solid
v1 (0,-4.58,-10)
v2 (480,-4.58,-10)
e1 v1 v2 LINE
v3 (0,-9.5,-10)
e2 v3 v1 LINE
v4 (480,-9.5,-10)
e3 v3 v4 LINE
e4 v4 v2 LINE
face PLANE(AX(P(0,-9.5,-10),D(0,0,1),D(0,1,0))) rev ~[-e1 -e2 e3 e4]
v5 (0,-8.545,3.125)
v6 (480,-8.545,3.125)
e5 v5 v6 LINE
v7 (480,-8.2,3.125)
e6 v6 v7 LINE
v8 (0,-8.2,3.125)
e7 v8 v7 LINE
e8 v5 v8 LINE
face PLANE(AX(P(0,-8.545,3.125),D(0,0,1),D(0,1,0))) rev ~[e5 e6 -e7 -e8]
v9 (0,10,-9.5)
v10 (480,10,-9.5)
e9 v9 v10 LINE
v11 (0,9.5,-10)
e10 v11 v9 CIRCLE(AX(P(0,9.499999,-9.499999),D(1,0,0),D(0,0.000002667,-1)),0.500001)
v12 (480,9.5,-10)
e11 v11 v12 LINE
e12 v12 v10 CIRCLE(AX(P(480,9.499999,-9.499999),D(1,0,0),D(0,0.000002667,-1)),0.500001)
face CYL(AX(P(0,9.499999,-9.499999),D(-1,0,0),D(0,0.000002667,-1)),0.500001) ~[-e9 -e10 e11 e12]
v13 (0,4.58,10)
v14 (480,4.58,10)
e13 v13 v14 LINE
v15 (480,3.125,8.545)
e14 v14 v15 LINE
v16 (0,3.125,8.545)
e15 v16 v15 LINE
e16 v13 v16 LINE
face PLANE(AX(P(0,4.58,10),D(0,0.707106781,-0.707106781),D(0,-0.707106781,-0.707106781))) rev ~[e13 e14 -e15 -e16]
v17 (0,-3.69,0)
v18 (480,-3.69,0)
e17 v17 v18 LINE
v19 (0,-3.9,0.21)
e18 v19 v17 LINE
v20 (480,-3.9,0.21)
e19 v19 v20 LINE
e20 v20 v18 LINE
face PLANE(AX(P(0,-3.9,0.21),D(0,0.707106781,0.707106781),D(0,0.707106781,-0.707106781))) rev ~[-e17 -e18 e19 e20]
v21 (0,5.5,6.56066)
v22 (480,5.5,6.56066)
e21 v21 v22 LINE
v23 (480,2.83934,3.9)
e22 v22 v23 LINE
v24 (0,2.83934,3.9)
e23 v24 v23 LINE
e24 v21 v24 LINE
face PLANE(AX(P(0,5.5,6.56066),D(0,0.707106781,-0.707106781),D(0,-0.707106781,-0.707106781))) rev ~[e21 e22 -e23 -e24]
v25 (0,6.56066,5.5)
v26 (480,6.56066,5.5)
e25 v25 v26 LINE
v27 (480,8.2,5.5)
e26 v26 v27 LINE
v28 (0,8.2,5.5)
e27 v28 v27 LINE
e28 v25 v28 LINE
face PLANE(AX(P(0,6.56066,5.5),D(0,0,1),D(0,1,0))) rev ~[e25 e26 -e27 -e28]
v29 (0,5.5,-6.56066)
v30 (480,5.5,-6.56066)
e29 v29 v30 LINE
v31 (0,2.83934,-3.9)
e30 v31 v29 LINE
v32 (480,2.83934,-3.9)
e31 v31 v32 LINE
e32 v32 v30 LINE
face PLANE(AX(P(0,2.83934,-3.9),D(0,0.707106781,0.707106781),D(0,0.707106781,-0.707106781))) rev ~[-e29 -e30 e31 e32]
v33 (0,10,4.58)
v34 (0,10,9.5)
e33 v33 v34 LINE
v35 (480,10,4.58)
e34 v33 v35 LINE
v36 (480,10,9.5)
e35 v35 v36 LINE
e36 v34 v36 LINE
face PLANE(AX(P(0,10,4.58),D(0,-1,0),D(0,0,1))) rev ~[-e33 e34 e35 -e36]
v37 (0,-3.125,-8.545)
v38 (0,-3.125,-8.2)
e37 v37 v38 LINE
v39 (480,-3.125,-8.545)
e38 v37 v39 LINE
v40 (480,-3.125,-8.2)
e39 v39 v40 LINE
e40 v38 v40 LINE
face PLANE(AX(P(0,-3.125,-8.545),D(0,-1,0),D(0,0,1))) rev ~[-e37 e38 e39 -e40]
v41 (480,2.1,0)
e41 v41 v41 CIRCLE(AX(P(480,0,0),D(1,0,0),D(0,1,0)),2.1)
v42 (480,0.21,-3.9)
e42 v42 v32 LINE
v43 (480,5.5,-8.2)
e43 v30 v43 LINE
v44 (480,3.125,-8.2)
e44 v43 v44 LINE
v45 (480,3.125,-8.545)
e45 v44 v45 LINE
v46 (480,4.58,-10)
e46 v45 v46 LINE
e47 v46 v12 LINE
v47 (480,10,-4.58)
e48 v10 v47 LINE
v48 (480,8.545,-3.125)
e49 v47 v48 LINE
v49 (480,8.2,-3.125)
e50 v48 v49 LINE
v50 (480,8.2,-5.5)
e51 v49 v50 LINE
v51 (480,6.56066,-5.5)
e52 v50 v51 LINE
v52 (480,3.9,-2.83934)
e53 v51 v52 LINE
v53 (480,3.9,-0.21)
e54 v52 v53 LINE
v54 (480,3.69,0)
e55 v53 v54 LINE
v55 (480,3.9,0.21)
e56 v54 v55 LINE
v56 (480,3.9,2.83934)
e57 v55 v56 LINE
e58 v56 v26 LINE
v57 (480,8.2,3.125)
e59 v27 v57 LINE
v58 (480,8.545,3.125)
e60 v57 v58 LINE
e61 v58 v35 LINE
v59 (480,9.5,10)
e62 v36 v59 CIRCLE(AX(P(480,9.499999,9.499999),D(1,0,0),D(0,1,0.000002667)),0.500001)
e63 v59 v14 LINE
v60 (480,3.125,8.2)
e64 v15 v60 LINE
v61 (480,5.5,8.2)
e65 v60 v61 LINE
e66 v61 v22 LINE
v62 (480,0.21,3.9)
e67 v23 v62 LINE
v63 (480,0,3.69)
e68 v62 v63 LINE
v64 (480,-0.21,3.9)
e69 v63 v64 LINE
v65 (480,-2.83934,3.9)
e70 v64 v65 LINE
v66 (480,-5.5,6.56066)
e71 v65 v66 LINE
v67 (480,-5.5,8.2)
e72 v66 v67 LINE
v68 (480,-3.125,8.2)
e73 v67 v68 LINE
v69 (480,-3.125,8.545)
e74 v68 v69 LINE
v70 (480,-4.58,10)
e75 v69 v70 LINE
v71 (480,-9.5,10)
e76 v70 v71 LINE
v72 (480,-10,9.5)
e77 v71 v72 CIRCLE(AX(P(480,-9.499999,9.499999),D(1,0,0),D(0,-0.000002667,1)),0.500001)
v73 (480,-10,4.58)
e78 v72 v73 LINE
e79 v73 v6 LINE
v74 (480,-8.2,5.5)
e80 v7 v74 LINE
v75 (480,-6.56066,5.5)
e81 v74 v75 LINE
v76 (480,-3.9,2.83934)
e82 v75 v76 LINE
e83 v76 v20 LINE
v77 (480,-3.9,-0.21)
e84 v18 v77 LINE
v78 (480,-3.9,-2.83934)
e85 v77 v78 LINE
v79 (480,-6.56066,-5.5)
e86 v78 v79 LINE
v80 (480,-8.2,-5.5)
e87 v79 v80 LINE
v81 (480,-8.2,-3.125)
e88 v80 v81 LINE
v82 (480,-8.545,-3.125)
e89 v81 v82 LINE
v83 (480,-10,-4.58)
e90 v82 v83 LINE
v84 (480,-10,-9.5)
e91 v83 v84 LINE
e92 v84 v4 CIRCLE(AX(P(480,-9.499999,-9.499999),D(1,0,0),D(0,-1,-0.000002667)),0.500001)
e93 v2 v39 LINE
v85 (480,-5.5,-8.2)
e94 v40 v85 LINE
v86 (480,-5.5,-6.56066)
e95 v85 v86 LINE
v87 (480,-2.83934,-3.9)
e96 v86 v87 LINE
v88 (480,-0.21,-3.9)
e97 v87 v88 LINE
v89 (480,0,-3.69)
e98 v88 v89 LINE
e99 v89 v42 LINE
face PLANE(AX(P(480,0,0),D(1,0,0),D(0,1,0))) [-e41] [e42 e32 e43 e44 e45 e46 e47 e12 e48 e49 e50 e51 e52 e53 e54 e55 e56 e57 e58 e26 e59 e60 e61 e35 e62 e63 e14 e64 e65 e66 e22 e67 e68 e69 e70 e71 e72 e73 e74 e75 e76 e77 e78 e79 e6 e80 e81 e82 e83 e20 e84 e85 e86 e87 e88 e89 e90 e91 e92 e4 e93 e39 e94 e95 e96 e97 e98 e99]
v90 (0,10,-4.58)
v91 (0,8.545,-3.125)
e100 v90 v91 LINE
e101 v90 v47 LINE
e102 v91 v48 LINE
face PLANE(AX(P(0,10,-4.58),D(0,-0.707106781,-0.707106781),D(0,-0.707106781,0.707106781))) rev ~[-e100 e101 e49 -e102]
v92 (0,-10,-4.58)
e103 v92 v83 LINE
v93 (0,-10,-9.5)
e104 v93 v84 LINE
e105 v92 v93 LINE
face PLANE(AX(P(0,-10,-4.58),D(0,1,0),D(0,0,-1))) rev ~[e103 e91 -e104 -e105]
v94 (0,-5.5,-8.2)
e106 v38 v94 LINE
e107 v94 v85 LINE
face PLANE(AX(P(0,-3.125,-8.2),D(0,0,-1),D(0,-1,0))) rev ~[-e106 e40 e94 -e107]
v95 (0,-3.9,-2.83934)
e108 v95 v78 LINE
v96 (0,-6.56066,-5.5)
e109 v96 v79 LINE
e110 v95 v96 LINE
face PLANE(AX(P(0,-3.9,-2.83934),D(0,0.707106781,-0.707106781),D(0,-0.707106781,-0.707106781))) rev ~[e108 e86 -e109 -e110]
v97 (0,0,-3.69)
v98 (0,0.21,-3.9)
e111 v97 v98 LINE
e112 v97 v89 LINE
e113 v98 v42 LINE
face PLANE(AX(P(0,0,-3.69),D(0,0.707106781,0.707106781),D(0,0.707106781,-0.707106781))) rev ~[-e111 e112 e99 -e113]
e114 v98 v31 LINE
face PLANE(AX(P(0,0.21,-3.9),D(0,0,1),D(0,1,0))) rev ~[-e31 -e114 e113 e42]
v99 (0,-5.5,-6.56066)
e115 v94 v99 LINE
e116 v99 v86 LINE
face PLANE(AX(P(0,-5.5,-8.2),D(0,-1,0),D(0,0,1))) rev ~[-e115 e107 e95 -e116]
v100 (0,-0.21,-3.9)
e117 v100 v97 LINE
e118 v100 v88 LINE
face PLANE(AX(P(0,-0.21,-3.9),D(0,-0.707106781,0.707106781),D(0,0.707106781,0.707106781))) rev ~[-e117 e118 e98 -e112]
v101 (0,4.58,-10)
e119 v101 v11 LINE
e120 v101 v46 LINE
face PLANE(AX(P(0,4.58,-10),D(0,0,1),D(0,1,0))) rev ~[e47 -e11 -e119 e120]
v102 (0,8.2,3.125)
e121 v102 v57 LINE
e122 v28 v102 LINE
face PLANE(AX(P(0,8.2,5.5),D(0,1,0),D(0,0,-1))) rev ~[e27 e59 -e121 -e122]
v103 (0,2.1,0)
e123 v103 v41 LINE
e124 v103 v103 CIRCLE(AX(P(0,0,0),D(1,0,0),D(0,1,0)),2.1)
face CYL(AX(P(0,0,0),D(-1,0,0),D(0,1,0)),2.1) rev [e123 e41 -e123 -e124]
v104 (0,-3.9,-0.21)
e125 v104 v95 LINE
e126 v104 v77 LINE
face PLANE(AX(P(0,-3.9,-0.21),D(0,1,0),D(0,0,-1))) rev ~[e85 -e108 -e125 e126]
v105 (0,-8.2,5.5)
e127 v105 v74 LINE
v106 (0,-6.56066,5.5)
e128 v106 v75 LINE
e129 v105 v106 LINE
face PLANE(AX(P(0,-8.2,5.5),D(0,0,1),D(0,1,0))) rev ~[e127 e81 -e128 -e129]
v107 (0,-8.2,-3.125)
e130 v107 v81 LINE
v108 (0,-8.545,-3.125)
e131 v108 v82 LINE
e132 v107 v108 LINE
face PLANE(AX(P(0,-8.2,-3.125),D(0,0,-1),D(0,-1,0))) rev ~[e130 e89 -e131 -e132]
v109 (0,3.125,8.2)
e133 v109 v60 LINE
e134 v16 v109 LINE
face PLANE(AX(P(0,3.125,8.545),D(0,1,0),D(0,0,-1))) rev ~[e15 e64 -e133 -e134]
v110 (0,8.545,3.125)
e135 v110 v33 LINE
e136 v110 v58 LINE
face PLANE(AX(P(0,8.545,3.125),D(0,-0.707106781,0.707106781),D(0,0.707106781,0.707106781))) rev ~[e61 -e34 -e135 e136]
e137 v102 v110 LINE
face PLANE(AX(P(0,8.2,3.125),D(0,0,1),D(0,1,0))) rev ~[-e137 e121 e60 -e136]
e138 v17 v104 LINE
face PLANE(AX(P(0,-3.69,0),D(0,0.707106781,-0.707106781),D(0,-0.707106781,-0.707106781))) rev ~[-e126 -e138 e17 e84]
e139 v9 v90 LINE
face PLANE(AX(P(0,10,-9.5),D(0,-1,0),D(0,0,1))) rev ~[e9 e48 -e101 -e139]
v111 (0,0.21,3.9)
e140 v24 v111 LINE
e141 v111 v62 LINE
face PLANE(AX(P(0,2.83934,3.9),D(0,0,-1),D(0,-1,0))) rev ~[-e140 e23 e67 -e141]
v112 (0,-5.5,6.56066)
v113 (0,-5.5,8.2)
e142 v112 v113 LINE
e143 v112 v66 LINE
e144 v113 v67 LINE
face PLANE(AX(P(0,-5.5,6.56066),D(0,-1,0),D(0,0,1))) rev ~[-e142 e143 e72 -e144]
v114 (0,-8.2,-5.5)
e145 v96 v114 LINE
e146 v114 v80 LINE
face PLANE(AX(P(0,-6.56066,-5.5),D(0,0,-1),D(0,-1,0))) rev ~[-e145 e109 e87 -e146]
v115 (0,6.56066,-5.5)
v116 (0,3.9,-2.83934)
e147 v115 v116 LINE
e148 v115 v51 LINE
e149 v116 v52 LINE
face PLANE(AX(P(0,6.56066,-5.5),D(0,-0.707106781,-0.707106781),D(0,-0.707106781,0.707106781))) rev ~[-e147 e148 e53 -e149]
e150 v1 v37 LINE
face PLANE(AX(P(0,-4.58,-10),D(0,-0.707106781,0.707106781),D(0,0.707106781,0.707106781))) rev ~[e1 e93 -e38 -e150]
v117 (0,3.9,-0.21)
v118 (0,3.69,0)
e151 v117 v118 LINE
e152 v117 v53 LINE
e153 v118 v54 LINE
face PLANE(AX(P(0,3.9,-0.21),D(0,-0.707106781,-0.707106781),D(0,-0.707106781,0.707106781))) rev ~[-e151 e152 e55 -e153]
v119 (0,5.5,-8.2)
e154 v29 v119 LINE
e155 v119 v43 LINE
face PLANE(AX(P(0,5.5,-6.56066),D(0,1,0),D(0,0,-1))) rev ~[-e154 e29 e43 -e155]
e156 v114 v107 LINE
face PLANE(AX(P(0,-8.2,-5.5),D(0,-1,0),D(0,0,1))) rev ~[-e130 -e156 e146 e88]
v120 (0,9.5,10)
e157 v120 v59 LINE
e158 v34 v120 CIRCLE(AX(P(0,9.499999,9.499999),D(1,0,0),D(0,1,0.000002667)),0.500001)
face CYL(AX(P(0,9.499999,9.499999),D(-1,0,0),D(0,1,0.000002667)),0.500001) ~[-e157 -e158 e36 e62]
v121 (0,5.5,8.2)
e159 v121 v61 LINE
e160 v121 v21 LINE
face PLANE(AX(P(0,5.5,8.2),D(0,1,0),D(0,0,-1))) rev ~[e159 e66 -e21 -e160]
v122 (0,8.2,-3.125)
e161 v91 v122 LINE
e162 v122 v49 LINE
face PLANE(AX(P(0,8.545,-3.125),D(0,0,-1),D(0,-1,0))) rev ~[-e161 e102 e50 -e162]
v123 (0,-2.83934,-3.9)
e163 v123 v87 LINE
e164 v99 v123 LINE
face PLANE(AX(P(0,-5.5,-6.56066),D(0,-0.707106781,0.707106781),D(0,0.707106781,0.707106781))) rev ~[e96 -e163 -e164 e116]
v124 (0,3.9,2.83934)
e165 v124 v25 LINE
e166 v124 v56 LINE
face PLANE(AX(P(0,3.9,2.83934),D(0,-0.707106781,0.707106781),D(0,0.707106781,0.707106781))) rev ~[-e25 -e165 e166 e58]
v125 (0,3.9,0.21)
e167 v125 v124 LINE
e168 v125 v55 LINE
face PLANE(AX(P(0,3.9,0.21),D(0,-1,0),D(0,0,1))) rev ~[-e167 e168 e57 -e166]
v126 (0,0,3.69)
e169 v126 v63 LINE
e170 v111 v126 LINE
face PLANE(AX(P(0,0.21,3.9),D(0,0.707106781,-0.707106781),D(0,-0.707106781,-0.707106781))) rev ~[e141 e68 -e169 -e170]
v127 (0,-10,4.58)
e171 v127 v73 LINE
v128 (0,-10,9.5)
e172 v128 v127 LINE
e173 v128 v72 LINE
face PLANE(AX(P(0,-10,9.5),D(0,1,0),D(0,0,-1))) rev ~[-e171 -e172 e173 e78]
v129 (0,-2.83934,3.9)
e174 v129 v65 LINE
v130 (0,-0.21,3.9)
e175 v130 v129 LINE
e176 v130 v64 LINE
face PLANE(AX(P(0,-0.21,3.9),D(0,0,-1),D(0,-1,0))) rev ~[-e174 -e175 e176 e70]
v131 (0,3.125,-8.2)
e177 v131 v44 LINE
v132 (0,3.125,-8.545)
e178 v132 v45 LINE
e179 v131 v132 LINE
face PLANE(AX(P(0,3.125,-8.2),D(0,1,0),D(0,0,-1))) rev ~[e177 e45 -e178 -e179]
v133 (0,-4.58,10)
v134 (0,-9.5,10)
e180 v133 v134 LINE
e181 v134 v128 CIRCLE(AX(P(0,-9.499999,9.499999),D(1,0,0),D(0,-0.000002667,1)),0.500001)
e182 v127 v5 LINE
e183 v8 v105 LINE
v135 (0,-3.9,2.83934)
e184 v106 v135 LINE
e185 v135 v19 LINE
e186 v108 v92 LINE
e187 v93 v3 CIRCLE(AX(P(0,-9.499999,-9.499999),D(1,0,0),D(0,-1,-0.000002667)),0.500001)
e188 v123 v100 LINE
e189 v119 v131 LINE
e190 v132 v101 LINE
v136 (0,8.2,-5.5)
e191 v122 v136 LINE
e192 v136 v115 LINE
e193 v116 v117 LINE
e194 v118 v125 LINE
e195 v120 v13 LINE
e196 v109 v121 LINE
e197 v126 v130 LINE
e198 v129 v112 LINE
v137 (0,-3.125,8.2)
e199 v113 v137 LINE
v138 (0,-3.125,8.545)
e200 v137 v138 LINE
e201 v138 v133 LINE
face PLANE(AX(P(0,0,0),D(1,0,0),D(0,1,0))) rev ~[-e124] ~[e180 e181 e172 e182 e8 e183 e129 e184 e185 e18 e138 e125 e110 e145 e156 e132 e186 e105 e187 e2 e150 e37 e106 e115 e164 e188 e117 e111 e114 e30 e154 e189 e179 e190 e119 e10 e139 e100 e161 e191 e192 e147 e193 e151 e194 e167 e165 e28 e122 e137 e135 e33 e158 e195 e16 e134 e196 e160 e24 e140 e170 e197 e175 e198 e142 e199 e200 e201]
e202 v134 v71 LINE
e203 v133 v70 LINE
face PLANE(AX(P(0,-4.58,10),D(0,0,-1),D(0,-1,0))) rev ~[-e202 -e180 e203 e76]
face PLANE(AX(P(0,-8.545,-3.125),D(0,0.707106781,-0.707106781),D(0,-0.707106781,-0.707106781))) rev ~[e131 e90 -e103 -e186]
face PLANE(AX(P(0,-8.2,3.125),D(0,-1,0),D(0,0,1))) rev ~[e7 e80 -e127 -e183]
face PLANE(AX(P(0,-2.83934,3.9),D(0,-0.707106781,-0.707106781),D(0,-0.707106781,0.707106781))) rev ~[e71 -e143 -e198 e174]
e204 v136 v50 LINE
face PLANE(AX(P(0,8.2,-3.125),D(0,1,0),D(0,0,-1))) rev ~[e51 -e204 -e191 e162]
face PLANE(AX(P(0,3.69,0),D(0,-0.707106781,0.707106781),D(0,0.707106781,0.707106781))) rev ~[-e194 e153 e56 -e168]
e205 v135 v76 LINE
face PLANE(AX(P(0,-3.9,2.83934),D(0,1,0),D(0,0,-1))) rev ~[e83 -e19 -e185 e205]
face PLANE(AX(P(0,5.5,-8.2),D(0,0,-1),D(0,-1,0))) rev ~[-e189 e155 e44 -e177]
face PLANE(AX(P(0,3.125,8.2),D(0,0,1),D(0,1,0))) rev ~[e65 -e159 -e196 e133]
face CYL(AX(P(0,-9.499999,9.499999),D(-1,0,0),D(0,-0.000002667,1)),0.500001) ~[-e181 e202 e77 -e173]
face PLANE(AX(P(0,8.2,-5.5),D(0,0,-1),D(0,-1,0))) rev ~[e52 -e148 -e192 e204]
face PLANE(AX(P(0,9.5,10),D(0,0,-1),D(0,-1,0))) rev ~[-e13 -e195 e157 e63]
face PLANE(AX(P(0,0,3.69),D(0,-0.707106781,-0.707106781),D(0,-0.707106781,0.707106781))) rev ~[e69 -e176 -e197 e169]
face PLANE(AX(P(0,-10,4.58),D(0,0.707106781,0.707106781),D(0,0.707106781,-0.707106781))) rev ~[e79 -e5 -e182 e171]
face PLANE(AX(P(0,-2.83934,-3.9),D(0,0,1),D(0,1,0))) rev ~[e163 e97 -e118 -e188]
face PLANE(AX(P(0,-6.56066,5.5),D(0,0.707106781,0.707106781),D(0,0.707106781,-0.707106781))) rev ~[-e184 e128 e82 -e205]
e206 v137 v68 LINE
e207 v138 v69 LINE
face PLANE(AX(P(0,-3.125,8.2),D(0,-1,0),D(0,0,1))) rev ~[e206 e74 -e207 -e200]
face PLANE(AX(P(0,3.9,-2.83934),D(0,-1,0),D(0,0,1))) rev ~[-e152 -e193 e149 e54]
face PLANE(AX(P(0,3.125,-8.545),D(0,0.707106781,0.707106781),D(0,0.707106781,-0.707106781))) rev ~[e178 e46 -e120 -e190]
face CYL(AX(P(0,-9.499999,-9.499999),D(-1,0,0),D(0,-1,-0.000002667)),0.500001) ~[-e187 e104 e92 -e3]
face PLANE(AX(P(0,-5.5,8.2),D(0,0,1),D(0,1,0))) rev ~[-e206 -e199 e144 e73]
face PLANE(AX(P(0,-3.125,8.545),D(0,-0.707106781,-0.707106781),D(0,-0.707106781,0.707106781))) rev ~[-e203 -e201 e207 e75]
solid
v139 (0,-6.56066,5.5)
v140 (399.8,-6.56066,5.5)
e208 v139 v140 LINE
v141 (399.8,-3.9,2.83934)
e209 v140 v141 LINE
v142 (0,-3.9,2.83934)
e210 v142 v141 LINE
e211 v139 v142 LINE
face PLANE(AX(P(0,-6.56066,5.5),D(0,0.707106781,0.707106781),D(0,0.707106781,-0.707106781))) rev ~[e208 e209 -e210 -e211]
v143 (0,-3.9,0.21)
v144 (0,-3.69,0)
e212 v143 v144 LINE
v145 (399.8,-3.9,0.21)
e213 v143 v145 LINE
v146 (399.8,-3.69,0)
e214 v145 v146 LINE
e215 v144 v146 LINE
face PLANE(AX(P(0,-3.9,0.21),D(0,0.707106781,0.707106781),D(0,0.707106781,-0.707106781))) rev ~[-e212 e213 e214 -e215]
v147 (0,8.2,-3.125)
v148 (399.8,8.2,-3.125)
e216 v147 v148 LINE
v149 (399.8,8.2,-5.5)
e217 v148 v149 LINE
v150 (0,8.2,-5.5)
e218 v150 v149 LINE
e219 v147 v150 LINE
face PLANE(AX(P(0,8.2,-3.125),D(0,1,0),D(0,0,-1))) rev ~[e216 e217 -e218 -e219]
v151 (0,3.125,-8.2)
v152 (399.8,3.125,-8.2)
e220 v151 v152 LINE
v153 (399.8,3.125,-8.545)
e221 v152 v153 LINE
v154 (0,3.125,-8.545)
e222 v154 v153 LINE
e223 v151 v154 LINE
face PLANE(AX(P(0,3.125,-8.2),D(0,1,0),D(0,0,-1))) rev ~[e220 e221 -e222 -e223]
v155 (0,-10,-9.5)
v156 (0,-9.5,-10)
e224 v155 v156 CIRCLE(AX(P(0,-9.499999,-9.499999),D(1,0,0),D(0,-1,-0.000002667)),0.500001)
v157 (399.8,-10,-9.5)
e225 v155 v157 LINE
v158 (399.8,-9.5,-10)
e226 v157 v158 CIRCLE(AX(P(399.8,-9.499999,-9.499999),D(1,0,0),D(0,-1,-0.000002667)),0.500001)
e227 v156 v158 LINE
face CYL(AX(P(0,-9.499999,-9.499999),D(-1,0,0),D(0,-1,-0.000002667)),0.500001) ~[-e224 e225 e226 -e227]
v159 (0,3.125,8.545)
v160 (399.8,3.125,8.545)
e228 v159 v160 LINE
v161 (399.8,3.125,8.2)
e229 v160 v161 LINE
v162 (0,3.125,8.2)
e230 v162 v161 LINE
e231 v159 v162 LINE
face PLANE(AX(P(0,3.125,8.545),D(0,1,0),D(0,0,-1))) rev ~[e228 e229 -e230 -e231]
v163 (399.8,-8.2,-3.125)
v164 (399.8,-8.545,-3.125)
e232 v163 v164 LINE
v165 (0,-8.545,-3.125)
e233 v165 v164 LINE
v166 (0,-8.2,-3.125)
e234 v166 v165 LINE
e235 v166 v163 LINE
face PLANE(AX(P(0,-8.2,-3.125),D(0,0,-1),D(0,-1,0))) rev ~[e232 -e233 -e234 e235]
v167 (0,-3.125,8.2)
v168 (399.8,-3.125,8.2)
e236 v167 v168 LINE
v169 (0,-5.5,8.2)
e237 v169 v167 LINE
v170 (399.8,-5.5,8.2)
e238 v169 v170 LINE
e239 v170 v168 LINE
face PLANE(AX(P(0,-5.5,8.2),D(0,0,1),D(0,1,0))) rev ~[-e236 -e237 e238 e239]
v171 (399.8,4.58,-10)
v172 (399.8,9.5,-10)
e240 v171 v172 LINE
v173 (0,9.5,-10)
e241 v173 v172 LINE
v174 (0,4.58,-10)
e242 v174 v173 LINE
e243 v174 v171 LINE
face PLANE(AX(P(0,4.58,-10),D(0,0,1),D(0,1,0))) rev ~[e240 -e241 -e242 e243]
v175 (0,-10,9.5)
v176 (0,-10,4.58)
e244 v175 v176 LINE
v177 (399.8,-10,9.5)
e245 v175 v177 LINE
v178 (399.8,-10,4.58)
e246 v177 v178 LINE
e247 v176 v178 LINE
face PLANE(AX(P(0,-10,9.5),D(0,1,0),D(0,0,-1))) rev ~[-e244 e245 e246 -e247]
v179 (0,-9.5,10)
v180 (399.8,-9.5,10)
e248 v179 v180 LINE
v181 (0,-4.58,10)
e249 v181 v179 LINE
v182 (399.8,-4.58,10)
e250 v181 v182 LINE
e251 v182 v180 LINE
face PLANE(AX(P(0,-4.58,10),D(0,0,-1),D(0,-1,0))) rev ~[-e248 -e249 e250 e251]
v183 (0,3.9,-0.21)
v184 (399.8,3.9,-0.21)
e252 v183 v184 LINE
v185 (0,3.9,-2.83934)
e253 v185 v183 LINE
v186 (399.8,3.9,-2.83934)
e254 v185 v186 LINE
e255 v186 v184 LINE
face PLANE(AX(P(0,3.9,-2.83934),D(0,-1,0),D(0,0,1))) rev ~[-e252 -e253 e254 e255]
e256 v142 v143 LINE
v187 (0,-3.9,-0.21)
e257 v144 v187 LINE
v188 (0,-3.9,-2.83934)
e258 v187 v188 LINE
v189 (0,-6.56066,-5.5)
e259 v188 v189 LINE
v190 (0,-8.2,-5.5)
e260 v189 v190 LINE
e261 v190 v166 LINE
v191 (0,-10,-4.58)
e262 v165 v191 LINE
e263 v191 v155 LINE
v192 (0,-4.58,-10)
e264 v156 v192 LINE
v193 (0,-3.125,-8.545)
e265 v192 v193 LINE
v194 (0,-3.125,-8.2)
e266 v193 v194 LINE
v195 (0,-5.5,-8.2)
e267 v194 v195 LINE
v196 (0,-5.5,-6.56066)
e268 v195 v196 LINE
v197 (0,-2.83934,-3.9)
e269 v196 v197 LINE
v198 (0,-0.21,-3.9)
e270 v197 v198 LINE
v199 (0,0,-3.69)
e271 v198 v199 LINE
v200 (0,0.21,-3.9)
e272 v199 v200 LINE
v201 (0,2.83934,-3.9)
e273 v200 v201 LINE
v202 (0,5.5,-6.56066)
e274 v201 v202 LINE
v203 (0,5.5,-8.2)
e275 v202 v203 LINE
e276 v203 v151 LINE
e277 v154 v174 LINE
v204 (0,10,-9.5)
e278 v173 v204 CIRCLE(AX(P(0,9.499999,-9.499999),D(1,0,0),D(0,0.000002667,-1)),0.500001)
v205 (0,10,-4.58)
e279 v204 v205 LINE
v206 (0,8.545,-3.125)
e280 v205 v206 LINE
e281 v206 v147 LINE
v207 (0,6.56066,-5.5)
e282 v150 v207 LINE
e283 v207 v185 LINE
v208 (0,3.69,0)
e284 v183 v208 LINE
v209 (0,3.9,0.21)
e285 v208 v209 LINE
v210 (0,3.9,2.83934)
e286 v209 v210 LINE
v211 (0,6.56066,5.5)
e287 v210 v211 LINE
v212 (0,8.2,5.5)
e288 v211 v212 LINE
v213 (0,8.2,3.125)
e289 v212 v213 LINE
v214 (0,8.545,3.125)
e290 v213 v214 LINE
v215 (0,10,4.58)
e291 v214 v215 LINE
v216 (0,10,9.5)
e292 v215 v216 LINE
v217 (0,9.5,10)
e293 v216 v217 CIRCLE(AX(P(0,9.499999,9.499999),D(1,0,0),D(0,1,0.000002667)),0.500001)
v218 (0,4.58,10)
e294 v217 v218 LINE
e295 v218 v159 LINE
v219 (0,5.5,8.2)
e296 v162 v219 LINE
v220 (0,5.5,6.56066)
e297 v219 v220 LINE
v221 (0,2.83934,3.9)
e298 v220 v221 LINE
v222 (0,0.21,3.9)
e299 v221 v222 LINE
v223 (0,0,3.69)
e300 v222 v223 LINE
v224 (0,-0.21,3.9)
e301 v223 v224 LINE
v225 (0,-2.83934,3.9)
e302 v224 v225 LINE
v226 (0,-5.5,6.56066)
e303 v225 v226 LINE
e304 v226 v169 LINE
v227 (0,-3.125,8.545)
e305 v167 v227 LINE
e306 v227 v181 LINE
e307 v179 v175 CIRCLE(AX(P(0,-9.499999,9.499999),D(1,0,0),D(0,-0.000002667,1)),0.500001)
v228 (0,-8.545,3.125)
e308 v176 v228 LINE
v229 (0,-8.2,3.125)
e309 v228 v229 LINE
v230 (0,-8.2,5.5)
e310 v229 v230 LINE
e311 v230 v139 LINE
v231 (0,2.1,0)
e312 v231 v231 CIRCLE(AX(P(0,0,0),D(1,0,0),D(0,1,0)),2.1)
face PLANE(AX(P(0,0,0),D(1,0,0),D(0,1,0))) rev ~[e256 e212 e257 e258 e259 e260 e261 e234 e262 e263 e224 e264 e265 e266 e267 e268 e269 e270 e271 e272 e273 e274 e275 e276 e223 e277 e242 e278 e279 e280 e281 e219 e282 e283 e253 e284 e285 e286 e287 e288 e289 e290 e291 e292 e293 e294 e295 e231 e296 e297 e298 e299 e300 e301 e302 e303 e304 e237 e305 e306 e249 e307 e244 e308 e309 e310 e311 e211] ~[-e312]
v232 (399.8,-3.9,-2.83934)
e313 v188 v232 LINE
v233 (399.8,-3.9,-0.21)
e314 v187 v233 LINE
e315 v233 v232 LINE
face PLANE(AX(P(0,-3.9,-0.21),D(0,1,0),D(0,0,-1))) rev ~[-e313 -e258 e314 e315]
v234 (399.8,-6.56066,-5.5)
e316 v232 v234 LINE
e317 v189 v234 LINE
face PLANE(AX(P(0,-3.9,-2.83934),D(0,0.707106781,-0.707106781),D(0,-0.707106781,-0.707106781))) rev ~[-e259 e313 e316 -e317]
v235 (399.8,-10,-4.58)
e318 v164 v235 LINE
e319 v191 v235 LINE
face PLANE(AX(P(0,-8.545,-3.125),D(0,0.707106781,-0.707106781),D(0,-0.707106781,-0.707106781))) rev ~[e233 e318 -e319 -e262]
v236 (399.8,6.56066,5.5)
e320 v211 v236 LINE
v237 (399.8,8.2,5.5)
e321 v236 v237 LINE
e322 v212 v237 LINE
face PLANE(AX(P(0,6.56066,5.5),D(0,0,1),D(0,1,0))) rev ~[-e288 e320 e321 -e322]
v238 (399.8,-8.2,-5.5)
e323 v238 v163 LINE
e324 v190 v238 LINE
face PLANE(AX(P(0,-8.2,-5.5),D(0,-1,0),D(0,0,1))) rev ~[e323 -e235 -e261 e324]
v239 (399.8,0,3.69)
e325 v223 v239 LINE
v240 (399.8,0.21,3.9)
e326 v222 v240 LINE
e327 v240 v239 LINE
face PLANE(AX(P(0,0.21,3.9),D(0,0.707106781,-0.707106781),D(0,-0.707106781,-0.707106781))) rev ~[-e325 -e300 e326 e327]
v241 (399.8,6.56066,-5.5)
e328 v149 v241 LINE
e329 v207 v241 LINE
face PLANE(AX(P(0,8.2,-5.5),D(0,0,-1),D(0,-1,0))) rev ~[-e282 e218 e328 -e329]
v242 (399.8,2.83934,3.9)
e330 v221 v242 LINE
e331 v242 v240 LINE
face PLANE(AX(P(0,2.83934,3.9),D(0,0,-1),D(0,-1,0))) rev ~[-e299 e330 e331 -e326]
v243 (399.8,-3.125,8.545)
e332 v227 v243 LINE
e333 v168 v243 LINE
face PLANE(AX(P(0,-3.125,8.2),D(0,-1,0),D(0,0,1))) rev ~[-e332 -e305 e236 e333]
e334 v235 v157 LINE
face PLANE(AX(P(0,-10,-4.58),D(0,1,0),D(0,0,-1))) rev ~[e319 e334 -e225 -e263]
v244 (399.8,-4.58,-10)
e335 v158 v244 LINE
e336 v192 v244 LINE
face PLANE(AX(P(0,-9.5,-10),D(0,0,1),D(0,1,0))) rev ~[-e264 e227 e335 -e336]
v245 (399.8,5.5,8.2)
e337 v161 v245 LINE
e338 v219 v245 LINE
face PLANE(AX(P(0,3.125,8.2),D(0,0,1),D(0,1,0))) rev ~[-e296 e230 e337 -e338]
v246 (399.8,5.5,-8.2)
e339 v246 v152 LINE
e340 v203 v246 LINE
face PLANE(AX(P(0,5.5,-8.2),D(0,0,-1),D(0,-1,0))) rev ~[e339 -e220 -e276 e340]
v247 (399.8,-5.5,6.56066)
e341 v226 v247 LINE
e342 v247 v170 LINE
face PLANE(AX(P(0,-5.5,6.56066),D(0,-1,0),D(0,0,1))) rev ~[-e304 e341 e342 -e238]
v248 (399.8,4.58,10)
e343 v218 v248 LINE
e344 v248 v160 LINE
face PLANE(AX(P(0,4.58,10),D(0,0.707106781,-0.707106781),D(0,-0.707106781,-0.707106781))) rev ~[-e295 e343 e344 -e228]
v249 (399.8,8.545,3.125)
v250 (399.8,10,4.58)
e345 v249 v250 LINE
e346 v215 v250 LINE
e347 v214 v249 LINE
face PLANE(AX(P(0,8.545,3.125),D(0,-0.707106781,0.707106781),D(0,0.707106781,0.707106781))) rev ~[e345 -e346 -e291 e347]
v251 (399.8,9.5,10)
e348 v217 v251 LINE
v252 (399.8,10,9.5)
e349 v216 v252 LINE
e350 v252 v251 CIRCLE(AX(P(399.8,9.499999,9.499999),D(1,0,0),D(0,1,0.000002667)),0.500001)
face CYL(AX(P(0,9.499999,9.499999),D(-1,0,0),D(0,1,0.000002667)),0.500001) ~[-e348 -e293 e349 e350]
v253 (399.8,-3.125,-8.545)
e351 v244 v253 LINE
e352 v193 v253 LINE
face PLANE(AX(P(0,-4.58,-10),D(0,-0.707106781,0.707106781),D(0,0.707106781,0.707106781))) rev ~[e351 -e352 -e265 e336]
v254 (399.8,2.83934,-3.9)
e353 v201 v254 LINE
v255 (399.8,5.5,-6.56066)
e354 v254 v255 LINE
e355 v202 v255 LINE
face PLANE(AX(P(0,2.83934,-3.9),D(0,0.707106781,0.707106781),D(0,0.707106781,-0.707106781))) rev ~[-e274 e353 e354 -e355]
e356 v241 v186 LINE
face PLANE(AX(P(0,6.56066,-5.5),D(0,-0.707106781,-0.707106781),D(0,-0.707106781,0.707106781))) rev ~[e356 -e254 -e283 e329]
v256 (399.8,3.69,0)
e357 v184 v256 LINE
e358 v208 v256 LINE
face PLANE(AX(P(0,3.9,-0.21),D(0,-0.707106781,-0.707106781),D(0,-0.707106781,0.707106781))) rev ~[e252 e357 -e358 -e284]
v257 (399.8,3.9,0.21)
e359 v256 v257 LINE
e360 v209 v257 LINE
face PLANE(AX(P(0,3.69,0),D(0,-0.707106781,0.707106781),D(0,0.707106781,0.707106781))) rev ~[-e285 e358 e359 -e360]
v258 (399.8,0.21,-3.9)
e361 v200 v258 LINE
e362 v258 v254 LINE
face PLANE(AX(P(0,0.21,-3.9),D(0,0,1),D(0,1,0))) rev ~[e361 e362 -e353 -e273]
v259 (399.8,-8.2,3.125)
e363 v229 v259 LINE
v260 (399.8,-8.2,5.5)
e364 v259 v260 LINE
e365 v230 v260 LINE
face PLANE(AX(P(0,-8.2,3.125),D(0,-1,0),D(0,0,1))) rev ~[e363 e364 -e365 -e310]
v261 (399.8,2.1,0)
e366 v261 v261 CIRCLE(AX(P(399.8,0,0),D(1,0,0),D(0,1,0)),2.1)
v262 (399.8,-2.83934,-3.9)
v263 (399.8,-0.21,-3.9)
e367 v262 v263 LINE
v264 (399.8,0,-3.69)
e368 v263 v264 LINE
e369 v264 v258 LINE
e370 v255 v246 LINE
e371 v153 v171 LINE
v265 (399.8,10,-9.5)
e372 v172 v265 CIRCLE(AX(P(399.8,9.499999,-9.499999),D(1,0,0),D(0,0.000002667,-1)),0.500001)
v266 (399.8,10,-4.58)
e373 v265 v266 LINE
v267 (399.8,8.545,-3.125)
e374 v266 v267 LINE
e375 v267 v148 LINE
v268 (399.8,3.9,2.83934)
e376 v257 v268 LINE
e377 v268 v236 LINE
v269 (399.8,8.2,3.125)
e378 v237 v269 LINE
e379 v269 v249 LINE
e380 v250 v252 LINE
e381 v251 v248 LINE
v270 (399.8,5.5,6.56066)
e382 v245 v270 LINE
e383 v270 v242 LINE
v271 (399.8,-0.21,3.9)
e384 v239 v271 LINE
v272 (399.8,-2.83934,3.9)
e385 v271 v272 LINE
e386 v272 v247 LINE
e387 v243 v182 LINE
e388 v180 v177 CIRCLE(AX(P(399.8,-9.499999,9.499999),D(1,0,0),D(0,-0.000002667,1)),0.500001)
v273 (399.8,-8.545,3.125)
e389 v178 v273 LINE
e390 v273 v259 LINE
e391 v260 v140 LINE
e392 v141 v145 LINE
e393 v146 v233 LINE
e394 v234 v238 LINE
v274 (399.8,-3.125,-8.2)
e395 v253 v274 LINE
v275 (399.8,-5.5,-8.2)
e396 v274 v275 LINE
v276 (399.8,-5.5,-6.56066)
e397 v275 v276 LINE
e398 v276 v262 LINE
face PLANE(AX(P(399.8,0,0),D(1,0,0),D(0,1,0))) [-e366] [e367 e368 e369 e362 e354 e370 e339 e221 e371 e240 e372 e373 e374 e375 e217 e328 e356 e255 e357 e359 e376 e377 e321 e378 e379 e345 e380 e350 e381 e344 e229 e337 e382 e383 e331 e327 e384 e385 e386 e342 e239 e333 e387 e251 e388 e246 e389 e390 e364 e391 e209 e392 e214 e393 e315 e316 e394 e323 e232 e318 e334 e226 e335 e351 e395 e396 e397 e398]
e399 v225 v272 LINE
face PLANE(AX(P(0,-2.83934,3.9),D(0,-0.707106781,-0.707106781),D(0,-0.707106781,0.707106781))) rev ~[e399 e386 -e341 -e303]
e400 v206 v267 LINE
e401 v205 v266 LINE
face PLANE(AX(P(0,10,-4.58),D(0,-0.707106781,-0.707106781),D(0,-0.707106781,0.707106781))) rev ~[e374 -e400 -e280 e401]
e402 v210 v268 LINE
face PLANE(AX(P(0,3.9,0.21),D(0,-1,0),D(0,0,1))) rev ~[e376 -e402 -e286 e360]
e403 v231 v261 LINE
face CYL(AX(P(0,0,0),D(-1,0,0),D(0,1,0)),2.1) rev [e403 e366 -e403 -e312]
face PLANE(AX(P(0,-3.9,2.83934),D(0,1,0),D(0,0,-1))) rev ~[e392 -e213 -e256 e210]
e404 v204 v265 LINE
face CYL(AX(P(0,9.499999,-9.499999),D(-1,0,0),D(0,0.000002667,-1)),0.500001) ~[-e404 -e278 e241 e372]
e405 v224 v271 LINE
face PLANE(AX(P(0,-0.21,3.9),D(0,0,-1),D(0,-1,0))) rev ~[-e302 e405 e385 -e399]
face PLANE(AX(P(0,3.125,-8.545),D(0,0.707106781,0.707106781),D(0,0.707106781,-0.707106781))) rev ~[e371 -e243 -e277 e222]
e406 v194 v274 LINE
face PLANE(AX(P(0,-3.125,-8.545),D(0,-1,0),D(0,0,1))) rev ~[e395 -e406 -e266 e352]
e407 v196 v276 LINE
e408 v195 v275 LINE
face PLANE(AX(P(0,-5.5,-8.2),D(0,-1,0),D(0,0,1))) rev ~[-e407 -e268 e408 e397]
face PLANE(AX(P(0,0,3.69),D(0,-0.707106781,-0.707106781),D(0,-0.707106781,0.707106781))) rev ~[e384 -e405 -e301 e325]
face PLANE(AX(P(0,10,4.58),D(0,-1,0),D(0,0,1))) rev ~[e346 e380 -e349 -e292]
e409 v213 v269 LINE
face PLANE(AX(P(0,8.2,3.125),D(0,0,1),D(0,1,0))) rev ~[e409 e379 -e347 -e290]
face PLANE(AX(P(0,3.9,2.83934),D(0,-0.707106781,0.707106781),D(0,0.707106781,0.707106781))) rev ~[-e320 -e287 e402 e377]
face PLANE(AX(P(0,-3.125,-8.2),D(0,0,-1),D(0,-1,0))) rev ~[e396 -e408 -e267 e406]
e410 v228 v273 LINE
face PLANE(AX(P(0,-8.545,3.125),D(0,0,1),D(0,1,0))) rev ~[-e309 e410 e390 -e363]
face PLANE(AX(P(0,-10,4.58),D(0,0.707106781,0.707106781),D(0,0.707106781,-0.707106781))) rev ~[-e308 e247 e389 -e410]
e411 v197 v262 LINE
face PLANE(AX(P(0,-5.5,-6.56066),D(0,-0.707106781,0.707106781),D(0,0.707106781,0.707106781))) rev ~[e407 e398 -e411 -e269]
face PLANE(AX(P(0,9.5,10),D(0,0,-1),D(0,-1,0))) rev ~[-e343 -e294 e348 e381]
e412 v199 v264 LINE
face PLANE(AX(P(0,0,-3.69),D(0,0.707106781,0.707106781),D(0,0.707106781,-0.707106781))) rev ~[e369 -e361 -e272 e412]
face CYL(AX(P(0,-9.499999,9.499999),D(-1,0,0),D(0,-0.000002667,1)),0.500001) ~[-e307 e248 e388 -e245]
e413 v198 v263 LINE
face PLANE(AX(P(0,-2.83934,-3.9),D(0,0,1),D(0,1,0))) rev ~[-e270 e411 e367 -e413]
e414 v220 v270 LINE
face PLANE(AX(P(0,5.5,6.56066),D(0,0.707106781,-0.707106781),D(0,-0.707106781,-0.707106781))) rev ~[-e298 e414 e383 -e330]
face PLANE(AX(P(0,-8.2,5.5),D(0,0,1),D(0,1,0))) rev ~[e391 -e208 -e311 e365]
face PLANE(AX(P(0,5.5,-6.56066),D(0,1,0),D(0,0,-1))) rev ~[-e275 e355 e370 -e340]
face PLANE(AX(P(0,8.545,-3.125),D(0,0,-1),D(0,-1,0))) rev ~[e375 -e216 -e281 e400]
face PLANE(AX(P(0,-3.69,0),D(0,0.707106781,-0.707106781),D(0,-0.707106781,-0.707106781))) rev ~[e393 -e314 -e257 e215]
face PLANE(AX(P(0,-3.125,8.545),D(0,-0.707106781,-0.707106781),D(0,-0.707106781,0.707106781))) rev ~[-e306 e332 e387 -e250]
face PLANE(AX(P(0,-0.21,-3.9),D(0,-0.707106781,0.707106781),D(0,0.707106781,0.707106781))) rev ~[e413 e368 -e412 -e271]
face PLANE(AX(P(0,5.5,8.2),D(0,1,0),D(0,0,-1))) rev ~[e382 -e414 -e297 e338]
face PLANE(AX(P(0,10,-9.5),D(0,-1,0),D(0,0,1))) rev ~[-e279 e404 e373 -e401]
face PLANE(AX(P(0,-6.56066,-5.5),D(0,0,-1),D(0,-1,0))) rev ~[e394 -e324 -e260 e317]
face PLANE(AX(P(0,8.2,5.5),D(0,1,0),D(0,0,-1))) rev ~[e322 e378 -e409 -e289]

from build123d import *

# Parameters (mm, degrees)
F0_R     = 2.1
F1_DEPTH = 399.8
F2_DEPTH = 480


with BuildPart() as f1:
    # F0 (on Right) → F1 (new body)
    with BuildSketch(Plane.YZ):
        with BuildLine():
            Line((-10, -4.58), (-10, -9.5))
            ThreePointArc((-10, -9.5), (-9.853553, -9.853553), (-9.5, -10))
            Line((-9.5, -10), (-4.58, -10))
            Line((-4.58, -10), (-3.125, -8.545))
            Line((-3.125, -8.545), (-3.125, -8.2))
            Line((-3.125, -8.2), (-5.5, -8.2))
            Line((-5.5, -8.2), (-5.5, -6.56066))
            Line((-5.5, -6.56066), (-2.83934, -3.9))
            Line((-2.83934, -3.9), (-0.21, -3.9))
            Line((-0.21, -3.9), (0, -3.69))
            Line((0, -3.69), (0.21, -3.9))
            Line((0.21, -3.9), (2.83934, -3.9))
            Line((2.83934, -3.9), (5.5, -6.56066))
            Line((5.5, -6.56066), (5.5, -8.2))
            Line((5.5, -8.2), (3.125, -8.2))
            Line((3.125, -8.2), (3.125, -8.545))
            Line((3.125, -8.545), (4.58, -10))
            Line((4.58, -10), (9.5, -10))
            ThreePointArc((9.5, -10), (9.853553, -9.853553), (10, -9.5))
            Line((10, -9.5), (10, -4.58))
            Line((10, -4.58), (8.545, -3.125))
            Line((8.545, -3.125), (8.2, -3.125))
            Line((8.2, -3.125), (8.2, -5.5))
            Line((8.2, -5.5), (6.56066, -5.5))
            Line((6.56066, -5.5), (3.9, -2.83934))
            Line((3.9, -2.83934), (3.9, -0.21))
            Line((3.9, -0.21), (3.69, 0))
            Line((3.69, 0), (3.9, 0.21))
            Line((3.9, 0.21), (3.9, 2.83934))
            Line((3.9, 2.83934), (6.56066, 5.5))
            Line((6.56066, 5.5), (8.2, 5.5))
            Line((8.2, 5.5), (8.2, 3.125))
            Line((8.2, 3.125), (8.545, 3.125))
            Line((8.545, 3.125), (10, 4.58))
            Line((10, 4.58), (10, 9.5))
            ThreePointArc((10, 9.5), (9.853553, 9.853553), (9.5, 10))
            Line((9.5, 10), (4.58, 10))
            Line((4.58, 10), (3.125, 8.545))
            Line((3.125, 8.545), (3.125, 8.2))
            Line((3.125, 8.2), (5.5, 8.2))
            Line((5.5, 8.2), (5.5, 6.56066))
            Line((5.5, 6.56066), (2.83934, 3.9))
            Line((2.83934, 3.9), (0.21, 3.9))
            Line((0.21, 3.9), (0, 3.69))
            Line((0, 3.69), (-0.21, 3.9))
            Line((-0.21, 3.9), (-2.83934, 3.9))
            Line((-2.83934, 3.9), (-5.5, 6.56066))
            Line((-5.5, 6.56066), (-5.5, 8.2))
            Line((-5.5, 8.2), (-3.125, 8.2))
            Line((-3.125, 8.2), (-3.125, 8.545))
            Line((-3.125, 8.545), (-4.58, 10))
            Line((-4.58, 10), (-9.5, 10))
            ThreePointArc((-9.5, 10), (-9.853553, 9.853553), (-10, 9.5))
            Line((-10, 9.5), (-10, 4.58))
            Line((-10, 4.58), (-8.545, 3.125))
            Line((-8.545, 3.125), (-8.2, 3.125))
            Line((-8.2, 3.125), (-8.2, 5.5))
            Line((-8.2, 5.5), (-6.56066, 5.5))
            Line((-6.56066, 5.5), (-3.9, 2.83934))
            Line((-3.9, 2.83934), (-3.9, 0.21))
            Line((-3.9, 0.21), (-3.69, 0))
            Line((-3.69, 0), (-3.9, -0.21))
            Line((-3.9, -0.21), (-3.9, -2.83934))
            Line((-3.9, -2.83934), (-6.56066, -5.5))
            Line((-6.56066, -5.5), (-8.2, -5.5))
            Line((-8.2, -5.5), (-8.2, -3.125))
            Line((-8.2, -3.125), (-8.545, -3.125))
            Line((-8.545, -3.125), (-10, -4.58))
        make_face()
        Circle(F0_R, mode=Mode.SUBTRACT)
    extrude(amount=F1_DEPTH)


with BuildPart() as f2:
    # F0 (on Right) → F2 (new body)
    with BuildSketch(Plane.YZ):
        with BuildLine():
            Line((-10, -4.58), (-10, -9.5))
            ThreePointArc((-10, -9.5), (-9.853553, -9.853553), (-9.5, -10))
            Line((-9.5, -10), (-4.58, -10))
            Line((-4.58, -10), (-3.125, -8.545))
            Line((-3.125, -8.545), (-3.125, -8.2))
            Line((-3.125, -8.2), (-5.5, -8.2))
            Line((-5.5, -8.2), (-5.5, -6.56066))
            Line((-5.5, -6.56066), (-2.83934, -3.9))
            Line((-2.83934, -3.9), (-0.21, -3.9))
            Line((-0.21, -3.9), (0, -3.69))
            Line((0, -3.69), (0.21, -3.9))
            Line((0.21, -3.9), (2.83934, -3.9))
            Line((2.83934, -3.9), (5.5, -6.56066))
            Line((5.5, -6.56066), (5.5, -8.2))
            Line((5.5, -8.2), (3.125, -8.2))
            Line((3.125, -8.2), (3.125, -8.545))
            Line((3.125, -8.545), (4.58, -10))
            Line((4.58, -10), (9.5, -10))
            ThreePointArc((9.5, -10), (9.853553, -9.853553), (10, -9.5))
            Line((10, -9.5), (10, -4.58))
            Line((10, -4.58), (8.545, -3.125))
            Line((8.545, -3.125), (8.2, -3.125))
            Line((8.2, -3.125), (8.2, -5.5))
            Line((8.2, -5.5), (6.56066, -5.5))
            Line((6.56066, -5.5), (3.9, -2.83934))
            Line((3.9, -2.83934), (3.9, -0.21))
            Line((3.9, -0.21), (3.69, 0))
            Line((3.69, 0), (3.9, 0.21))
            Line((3.9, 0.21), (3.9, 2.83934))
            Line((3.9, 2.83934), (6.56066, 5.5))
            Line((6.56066, 5.5), (8.2, 5.5))
            Line((8.2, 5.5), (8.2, 3.125))
            Line((8.2, 3.125), (8.545, 3.125))
            Line((8.545, 3.125), (10, 4.58))
            Line((10, 4.58), (10, 9.5))
            ThreePointArc((10, 9.5), (9.853553, 9.853553), (9.5, 10))
            Line((9.5, 10), (4.58, 10))
            Line((4.58, 10), (3.125, 8.545))
            Line((3.125, 8.545), (3.125, 8.2))
            Line((3.125, 8.2), (5.5, 8.2))
            Line((5.5, 8.2), (5.5, 6.56066))
            Line((5.5, 6.56066), (2.83934, 3.9))
            Line((2.83934, 3.9), (0.21, 3.9))
            Line((0.21, 3.9), (0, 3.69))
            Line((0, 3.69), (-0.21, 3.9))
            Line((-0.21, 3.9), (-2.83934, 3.9))
            Line((-2.83934, 3.9), (-5.5, 6.56066))
            Line((-5.5, 6.56066), (-5.5, 8.2))
            Line((-5.5, 8.2), (-3.125, 8.2))
            Line((-3.125, 8.2), (-3.125, 8.545))
            Line((-3.125, 8.545), (-4.58, 10))
            Line((-4.58, 10), (-9.5, 10))
            ThreePointArc((-9.5, 10), (-9.853553, 9.853553), (-10, 9.5))
            Line((-10, 9.5), (-10, 4.58))
            Line((-10, 4.58), (-8.545, 3.125))
            Line((-8.545, 3.125), (-8.2, 3.125))
            Line((-8.2, 3.125), (-8.2, 5.5))
            Line((-8.2, 5.5), (-6.56066, 5.5))
            Line((-6.56066, 5.5), (-3.9, 2.83934))
            Line((-3.9, 2.83934), (-3.9, 0.21))
            Line((-3.9, 0.21), (-3.69, 0))
            Line((-3.69, 0), (-3.9, -0.21))
            Line((-3.9, -0.21), (-3.9, -2.83934))
            Line((-3.9, -2.83934), (-6.56066, -5.5))
            Line((-6.56066, -5.5), (-8.2, -5.5))
            Line((-8.2, -5.5), (-8.2, -3.125))
            Line((-8.2, -3.125), (-8.545, -3.125))
            Line((-8.545, -3.125), (-10, -4.58))
        make_face()
        Circle(F0_R, mode=Mode.SUBTRACT)
    extrude(amount=F2_DEPTH)


solid = Compound([f1.part, f2.part])
